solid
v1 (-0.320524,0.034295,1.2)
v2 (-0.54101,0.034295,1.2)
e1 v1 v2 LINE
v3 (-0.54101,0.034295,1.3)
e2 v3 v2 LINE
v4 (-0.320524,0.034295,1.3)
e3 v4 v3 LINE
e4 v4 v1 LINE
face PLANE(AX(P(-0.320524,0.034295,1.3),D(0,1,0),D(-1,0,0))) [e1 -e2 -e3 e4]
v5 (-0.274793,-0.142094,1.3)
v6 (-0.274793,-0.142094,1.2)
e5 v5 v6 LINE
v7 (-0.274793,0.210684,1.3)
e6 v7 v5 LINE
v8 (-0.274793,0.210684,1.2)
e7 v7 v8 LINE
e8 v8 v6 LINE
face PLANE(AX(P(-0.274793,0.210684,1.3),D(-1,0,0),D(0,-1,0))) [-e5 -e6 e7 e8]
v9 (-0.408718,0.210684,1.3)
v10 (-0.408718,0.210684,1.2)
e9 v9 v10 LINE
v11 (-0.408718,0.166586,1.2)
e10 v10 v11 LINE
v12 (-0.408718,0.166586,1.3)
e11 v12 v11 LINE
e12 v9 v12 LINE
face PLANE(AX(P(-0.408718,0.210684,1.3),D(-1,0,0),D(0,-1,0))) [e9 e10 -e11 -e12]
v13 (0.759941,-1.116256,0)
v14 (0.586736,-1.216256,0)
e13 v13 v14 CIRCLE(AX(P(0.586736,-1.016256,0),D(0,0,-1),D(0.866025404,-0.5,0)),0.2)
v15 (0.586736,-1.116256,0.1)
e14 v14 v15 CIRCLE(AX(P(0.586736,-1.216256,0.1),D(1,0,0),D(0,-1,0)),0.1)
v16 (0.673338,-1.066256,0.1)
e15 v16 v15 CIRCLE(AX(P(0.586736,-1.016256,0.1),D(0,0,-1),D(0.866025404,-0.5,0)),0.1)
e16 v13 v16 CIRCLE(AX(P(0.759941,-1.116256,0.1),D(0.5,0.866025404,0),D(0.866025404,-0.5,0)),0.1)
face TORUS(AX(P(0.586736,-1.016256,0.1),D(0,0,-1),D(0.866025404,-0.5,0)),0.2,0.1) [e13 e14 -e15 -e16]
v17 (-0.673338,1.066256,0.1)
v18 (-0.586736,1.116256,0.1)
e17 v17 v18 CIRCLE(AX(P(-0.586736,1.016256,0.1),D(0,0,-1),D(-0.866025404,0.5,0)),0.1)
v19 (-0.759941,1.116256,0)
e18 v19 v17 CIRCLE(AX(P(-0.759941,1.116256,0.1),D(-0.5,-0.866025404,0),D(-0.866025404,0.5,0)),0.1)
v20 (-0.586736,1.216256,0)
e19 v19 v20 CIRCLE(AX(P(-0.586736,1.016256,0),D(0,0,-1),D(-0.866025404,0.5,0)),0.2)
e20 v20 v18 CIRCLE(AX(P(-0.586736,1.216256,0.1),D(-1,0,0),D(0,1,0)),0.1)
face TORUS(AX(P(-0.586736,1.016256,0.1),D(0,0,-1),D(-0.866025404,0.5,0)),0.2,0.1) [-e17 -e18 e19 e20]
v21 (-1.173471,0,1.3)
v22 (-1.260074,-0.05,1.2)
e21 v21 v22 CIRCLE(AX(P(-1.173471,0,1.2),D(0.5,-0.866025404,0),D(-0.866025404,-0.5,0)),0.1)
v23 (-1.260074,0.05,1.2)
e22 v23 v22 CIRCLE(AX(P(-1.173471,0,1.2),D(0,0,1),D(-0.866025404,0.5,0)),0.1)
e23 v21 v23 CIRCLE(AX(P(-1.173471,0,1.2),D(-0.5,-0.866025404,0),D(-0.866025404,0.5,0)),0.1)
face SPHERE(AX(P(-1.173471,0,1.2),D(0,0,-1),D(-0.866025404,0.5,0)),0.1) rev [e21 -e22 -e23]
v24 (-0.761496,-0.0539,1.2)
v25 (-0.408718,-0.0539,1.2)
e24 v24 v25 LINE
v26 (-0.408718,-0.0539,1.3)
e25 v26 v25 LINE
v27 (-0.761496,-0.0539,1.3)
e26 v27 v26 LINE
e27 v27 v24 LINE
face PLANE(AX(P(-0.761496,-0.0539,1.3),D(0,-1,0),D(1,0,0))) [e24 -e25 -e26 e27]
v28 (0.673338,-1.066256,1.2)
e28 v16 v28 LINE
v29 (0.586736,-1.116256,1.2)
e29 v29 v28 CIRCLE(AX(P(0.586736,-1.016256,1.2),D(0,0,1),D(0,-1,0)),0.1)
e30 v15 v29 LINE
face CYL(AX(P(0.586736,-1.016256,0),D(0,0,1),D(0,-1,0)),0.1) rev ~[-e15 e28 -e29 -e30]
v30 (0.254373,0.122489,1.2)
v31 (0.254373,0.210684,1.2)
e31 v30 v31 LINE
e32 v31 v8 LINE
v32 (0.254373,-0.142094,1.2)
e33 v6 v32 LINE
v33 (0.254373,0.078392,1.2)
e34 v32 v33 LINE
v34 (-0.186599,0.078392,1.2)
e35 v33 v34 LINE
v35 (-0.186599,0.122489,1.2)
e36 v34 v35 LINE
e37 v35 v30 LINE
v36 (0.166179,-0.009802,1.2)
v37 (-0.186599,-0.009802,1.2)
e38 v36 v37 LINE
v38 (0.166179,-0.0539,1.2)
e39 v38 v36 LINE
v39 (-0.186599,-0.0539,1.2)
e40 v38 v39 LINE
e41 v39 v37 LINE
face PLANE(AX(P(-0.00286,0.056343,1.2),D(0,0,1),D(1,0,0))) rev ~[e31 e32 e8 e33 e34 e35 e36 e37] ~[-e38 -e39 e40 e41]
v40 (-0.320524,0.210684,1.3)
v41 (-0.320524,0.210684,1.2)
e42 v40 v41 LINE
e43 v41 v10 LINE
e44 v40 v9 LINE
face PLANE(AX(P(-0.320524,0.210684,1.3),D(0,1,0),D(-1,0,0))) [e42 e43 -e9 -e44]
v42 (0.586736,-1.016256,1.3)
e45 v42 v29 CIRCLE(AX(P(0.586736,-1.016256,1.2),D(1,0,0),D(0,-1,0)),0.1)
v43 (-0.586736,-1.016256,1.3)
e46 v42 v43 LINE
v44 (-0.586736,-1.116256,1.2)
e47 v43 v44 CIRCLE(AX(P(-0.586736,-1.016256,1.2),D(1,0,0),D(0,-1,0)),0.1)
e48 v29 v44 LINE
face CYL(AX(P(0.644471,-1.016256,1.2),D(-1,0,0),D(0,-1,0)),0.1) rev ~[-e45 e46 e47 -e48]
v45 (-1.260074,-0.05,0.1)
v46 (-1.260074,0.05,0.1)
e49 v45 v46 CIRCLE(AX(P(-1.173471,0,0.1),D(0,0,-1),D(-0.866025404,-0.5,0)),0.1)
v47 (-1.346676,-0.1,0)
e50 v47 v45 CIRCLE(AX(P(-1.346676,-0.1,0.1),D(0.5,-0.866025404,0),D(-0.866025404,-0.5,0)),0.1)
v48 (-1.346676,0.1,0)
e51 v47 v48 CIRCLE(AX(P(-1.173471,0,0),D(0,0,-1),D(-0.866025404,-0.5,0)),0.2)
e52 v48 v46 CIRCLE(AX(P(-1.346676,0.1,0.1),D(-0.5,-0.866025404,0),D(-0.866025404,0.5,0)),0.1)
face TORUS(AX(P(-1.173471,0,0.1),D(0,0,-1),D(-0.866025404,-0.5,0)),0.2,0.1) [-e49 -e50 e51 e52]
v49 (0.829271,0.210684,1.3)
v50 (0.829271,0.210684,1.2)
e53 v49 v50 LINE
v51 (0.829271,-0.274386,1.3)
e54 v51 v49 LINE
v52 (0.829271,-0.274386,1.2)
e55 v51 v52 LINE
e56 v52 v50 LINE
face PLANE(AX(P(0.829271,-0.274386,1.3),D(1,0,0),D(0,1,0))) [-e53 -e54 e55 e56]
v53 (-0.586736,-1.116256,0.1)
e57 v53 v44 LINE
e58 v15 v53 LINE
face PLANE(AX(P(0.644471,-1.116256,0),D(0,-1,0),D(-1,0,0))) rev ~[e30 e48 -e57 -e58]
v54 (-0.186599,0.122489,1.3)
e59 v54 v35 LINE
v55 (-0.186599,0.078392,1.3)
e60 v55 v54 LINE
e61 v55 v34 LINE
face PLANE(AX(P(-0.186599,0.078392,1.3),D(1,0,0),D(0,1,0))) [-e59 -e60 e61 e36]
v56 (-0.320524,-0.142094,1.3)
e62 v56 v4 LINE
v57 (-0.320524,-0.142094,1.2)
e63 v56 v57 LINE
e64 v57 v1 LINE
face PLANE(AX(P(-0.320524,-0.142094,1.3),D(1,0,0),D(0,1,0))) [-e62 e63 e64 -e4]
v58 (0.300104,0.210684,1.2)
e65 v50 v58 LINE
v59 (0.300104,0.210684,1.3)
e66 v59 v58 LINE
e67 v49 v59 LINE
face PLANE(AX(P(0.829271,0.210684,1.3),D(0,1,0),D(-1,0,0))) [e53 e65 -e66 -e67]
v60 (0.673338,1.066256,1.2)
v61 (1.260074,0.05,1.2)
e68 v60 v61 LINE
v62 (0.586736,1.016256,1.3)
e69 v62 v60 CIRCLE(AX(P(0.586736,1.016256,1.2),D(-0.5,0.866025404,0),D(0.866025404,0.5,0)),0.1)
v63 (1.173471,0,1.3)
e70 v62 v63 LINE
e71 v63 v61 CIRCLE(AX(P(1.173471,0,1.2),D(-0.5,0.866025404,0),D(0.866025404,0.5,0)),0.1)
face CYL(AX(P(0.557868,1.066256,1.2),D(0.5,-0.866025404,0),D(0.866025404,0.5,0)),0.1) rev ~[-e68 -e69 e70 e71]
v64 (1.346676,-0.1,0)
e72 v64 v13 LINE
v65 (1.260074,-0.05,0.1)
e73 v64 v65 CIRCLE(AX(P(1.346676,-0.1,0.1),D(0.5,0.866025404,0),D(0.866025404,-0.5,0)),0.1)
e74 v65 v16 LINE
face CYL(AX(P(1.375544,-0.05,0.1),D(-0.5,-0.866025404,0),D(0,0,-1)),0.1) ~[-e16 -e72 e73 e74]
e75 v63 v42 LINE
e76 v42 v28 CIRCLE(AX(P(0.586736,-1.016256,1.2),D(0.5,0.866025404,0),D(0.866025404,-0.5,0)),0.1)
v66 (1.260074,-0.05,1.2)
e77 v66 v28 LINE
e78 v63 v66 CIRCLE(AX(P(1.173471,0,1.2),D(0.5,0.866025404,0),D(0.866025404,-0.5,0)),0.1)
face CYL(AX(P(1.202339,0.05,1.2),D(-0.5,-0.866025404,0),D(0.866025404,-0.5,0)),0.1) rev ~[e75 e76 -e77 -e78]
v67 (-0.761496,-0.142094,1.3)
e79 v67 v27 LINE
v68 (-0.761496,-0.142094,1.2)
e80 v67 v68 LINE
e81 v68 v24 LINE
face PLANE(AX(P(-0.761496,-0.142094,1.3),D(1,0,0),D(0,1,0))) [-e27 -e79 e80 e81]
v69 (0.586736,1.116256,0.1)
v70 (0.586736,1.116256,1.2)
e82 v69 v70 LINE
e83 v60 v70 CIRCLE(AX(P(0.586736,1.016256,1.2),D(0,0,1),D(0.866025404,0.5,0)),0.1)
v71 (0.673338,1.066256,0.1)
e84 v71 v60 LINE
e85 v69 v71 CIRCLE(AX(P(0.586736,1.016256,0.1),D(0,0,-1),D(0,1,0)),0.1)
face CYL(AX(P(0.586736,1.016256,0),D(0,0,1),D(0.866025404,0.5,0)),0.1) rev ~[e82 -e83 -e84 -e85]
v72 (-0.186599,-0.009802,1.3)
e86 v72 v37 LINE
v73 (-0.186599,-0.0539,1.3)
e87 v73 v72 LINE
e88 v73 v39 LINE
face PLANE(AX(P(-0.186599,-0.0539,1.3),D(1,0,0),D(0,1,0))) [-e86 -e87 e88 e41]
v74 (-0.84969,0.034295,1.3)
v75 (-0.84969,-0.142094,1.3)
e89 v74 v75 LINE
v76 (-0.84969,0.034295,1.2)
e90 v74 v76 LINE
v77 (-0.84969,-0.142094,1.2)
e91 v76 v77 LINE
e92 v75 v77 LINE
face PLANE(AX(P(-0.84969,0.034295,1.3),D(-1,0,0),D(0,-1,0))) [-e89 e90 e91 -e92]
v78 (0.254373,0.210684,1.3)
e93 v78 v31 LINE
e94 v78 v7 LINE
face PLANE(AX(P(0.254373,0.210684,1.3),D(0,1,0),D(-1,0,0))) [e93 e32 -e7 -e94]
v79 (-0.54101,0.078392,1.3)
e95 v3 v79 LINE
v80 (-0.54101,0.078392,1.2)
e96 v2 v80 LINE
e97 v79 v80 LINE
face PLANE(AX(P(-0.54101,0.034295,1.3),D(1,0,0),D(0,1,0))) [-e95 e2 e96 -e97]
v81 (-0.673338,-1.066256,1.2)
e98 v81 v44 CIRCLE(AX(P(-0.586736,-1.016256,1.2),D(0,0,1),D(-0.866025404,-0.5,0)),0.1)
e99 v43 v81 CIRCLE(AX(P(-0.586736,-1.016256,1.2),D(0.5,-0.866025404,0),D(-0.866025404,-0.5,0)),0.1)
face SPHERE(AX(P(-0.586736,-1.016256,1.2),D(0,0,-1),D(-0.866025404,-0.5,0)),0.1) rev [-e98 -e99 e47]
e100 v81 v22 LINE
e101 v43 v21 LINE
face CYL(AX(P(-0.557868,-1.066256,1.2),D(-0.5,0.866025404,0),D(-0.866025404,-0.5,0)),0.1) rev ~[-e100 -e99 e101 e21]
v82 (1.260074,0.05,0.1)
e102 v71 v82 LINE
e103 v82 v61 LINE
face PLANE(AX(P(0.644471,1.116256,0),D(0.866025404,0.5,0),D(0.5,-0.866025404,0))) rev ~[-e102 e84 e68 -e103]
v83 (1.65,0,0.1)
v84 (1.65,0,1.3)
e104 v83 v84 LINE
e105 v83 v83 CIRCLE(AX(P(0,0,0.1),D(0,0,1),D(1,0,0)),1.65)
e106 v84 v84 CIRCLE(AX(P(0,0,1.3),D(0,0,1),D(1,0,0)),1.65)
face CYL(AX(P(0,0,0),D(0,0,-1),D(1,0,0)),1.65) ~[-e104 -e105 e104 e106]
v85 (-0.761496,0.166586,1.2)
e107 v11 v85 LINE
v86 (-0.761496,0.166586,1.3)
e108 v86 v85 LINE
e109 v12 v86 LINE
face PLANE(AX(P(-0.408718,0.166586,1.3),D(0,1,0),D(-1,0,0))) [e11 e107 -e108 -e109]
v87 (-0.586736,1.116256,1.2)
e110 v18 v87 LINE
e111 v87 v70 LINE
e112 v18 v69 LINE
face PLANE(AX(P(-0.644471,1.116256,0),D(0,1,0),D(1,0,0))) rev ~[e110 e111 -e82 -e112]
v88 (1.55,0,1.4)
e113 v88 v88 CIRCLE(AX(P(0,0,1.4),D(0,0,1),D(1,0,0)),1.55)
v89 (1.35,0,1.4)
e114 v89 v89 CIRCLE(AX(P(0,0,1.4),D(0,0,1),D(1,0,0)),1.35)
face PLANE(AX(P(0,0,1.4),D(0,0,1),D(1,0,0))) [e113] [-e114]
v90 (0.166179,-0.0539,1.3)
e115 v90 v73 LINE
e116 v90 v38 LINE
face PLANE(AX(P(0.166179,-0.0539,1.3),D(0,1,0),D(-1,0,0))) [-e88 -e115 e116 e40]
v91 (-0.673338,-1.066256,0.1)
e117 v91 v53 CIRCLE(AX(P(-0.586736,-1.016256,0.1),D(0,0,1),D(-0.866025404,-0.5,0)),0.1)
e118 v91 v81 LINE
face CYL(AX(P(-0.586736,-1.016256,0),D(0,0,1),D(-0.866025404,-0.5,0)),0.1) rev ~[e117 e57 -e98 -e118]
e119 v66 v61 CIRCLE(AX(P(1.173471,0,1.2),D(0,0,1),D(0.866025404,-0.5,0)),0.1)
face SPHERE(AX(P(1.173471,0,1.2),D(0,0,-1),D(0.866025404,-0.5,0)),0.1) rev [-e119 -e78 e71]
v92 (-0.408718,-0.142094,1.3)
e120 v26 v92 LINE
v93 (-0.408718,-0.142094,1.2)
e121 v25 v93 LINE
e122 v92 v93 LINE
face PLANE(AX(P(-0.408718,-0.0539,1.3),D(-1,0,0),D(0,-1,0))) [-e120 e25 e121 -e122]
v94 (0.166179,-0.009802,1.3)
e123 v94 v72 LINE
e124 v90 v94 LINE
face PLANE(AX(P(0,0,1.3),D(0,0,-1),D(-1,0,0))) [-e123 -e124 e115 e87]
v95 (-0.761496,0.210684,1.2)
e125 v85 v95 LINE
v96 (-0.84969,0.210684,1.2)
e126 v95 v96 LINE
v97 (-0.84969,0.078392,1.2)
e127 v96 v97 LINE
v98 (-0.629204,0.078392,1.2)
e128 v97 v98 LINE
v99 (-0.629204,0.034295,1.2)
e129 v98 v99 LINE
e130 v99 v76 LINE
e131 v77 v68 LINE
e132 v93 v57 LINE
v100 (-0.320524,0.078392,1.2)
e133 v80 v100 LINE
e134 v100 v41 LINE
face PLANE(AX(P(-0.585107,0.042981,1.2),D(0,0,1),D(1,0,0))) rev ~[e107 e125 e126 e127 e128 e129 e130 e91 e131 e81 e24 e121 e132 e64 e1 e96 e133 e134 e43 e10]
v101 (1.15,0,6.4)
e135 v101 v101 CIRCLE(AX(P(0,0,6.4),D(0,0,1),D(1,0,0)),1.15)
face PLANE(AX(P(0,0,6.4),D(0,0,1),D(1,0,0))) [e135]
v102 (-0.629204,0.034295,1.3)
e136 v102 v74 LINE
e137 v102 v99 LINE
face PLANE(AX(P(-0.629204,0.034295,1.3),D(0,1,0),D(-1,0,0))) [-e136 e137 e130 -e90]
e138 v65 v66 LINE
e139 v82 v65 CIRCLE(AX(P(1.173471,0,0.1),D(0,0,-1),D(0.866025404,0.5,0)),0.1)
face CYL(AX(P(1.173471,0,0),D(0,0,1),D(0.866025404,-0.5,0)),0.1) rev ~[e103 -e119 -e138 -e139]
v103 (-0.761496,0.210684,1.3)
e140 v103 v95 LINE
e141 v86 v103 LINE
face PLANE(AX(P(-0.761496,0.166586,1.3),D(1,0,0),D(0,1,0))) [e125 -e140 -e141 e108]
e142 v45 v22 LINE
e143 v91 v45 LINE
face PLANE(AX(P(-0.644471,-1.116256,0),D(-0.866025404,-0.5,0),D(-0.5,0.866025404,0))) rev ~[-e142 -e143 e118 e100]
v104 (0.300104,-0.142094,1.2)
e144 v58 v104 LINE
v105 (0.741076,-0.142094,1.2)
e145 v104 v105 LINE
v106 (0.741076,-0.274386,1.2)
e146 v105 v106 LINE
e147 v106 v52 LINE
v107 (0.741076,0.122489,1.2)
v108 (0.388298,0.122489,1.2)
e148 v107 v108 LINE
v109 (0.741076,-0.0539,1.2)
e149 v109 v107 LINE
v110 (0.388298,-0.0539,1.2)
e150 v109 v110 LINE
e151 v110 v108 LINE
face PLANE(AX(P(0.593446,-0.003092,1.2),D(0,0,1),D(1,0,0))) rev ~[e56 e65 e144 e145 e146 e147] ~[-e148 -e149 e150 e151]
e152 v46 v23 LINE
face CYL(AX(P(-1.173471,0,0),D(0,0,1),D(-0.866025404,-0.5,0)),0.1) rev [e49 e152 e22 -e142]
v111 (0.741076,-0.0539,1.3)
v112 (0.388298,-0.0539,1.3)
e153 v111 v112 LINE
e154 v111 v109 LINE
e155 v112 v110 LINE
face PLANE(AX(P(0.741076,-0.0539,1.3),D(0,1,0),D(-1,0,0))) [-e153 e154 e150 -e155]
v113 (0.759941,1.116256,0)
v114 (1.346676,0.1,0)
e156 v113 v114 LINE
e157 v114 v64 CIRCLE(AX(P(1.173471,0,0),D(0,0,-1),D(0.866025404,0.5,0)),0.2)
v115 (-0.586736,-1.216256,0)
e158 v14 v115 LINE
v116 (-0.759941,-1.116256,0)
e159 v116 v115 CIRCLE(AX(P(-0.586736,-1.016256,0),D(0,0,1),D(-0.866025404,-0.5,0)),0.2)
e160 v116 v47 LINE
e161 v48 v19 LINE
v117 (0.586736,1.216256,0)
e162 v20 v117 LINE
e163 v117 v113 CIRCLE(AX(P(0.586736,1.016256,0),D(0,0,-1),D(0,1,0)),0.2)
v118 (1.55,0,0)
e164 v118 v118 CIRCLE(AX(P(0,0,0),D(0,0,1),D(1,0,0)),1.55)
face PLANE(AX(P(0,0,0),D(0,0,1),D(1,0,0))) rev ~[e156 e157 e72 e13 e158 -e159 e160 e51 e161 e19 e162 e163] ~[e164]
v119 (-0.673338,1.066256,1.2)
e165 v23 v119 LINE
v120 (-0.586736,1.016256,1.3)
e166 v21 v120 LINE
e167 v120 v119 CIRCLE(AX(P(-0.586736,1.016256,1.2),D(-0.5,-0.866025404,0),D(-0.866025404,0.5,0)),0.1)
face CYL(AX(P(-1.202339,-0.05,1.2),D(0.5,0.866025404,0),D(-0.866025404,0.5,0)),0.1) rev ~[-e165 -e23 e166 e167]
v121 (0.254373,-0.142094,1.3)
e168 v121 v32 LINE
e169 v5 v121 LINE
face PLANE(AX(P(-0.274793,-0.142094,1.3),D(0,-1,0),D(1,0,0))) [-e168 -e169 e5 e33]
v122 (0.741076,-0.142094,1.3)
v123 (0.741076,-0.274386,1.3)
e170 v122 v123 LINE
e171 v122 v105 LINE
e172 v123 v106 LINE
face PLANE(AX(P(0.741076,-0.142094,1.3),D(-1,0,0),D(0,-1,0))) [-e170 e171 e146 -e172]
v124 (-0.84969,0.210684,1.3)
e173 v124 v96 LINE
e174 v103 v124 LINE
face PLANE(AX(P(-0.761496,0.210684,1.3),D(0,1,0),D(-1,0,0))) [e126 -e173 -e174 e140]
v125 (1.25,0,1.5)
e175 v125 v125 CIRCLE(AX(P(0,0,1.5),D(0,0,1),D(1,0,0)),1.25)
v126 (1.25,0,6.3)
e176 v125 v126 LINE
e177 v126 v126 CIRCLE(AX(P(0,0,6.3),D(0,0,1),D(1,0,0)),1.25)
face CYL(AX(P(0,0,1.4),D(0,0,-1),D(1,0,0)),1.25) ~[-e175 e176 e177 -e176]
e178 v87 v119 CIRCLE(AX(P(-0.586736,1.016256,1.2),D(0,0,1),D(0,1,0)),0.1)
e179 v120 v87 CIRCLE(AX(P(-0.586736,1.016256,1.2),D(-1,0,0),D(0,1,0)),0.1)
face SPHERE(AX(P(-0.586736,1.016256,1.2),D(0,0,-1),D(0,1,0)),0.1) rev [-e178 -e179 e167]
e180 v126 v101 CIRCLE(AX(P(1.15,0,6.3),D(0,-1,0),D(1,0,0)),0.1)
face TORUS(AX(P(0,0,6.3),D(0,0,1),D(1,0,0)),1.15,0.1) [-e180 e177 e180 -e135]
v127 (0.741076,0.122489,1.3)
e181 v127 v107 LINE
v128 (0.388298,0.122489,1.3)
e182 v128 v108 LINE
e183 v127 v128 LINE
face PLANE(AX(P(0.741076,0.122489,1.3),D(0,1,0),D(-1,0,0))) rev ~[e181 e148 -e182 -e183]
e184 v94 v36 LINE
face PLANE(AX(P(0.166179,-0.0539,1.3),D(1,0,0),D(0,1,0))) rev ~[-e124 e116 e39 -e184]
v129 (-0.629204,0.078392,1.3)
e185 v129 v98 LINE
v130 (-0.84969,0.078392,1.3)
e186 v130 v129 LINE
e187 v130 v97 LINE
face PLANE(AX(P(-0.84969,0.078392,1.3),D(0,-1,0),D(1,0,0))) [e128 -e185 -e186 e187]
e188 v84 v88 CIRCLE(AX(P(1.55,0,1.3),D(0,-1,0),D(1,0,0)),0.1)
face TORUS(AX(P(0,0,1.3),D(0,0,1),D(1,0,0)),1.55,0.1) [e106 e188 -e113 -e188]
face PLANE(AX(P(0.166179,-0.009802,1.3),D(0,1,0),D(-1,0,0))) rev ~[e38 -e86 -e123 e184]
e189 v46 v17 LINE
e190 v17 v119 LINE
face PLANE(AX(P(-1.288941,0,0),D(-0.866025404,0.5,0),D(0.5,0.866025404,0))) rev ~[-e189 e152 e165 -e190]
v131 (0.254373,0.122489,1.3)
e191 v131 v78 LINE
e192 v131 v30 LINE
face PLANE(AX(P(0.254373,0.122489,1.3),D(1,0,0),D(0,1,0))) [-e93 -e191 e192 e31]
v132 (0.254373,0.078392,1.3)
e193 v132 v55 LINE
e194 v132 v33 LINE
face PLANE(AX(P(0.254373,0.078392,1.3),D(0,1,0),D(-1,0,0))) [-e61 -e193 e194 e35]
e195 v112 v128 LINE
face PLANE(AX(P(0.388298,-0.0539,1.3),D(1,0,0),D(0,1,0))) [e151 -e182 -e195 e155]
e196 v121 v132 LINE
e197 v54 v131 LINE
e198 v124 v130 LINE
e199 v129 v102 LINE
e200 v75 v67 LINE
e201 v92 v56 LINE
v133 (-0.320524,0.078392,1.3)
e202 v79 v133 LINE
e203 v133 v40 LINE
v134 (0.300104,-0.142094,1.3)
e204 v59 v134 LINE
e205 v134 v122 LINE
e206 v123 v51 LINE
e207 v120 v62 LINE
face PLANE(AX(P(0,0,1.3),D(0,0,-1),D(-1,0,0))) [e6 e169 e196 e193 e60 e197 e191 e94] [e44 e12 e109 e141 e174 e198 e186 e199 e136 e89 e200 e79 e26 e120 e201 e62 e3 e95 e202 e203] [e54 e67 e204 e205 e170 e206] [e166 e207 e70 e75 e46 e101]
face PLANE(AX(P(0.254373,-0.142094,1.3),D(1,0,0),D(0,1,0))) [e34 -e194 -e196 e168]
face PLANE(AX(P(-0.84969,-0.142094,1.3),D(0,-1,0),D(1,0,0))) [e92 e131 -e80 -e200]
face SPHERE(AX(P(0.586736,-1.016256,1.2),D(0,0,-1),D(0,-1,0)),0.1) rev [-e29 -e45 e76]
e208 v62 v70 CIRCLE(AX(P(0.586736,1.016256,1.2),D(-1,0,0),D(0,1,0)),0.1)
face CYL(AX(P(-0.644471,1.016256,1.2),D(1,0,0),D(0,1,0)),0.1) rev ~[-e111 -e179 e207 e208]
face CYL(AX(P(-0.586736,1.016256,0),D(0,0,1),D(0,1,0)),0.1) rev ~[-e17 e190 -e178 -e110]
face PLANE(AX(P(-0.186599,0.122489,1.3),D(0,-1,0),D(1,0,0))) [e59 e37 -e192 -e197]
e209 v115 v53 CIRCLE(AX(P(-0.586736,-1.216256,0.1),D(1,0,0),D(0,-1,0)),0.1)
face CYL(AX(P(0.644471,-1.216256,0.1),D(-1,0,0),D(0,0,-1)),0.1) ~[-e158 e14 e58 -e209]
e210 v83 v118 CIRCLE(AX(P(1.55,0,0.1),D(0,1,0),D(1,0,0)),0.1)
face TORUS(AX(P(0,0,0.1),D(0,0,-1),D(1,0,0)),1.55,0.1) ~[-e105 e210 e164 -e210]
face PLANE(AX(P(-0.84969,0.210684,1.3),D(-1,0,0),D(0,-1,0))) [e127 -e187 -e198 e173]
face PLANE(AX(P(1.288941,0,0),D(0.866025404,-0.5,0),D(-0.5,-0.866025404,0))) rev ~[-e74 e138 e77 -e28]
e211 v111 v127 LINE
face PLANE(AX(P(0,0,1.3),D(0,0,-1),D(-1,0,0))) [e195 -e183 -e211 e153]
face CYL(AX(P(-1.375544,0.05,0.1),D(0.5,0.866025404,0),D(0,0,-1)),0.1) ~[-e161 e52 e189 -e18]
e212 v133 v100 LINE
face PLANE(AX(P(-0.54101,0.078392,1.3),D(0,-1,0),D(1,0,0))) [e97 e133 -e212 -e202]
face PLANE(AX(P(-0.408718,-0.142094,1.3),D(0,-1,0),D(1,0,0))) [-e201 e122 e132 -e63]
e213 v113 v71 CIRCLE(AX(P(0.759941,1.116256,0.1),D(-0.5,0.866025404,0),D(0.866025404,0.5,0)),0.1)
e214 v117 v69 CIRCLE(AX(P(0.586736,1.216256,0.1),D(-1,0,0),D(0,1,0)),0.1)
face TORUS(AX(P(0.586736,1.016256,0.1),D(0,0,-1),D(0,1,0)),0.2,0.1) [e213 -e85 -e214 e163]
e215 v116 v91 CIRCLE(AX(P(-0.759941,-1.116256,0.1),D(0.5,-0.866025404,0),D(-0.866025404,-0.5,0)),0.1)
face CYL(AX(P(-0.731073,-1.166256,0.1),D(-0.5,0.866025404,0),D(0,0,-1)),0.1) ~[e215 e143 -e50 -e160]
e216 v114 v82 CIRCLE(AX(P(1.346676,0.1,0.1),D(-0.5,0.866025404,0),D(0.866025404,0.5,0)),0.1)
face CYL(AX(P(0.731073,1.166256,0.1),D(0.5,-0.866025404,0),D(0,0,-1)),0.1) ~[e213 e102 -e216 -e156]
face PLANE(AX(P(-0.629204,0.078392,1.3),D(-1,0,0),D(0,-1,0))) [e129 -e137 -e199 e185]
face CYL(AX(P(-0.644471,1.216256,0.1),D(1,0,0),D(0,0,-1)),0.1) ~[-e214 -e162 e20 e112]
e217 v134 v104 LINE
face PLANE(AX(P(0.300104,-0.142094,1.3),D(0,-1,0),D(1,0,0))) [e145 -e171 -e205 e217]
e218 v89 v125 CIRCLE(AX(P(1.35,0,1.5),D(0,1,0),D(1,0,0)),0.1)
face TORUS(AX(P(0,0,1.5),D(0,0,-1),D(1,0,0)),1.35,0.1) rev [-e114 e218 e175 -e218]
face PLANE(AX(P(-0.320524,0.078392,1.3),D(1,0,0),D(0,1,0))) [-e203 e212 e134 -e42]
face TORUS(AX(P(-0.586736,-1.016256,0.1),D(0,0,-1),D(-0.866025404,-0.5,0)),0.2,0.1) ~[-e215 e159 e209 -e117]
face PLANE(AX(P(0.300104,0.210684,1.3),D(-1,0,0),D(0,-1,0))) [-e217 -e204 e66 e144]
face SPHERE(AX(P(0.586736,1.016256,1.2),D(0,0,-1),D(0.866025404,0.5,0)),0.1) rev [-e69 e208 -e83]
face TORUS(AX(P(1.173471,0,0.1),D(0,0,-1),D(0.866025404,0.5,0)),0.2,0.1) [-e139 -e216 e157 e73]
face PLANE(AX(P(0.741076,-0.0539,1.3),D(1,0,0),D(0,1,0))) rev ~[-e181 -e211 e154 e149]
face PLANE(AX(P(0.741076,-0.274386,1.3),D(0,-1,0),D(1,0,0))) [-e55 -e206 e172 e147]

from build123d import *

# Parameters (mm, degrees)
SKETCH1_R           = 1.65
BOSS_EXTRUDE1_DEPTH = 1.4
SKETCH2_R           = 1.25
BOSS_EXTRUDE2_DEPTH = 5
CUT_EXTRUDE1_DEPTH  = 1.3
FILLET1_R           = 0.1
SKETCH4_W           = 0.352777778
SKETCH4_H           = 0.176388889
SKETCH4_W_2         = 0.352777777
SKETCH4_H_2         = 0.044097222
BOSS_EXTRUDE3_DEPTH = 0.1


with BuildPart() as part:
    # Sketch1 → Boss-Extrude1 (new body)
    with BuildSketch(Plane.XY):
        Circle(SKETCH1_R)
    extrude(amount=BOSS_EXTRUDE1_DEPTH)

    # Sketch2 → Boss-Extrude2 (add)
    with BuildSketch(Plane.XY.offset(1.4)):
        Circle(SKETCH2_R)
    extrude(amount=BOSS_EXTRUDE2_DEPTH)

    # Sketch3 → Cut-Extrude1 (cut)
    with BuildSketch(Plane(origin=(0, 0, 0), x_dir=(-1, 0, 0), z_dir=(0, 0, -1))):
        Polygon((1.288941176, 0), (0.644470588, 1.116255803), (-0.644470588, 1.116255803), (-1.288941176, 0), (-0.644470588, -1.116255803), (0.644470588, -1.116255803), align=None)
    extrude(amount=-CUT_EXTRUDE1_DEPTH, mode=Mode.SUBTRACT)

    # Fillet1
    fillet1_edges = [part.edges().sort_by_distance(p)[0] for p in [
        (-0.966705882, -0.558127901, 1.3),
        (-1.288941176, 0, 0.65),
        (0, -1.116255803, 1.3),
        (-0.644470588, -1.116255803, 0.65),
        (0.966705882, -0.558127901, 1.3),
        (0.644470588, -1.116255803, 0.65),
        (0.966705882, 0.558127901, 1.3),
        (1.288941176, 0, 0.65),
        (0, 1.116255803, 1.3),
        (0.644470588, 1.116255803, 0.65),
        (-0.966705882, 0.558127901, 1.3),
        (-0.644470588, 1.116255803, 0.65),
        (-0.966705882, -0.558127901, 0),
        (-0.966705882, 0.558127901, 0),
        (0, 1.116255803, 0),
        (0.966705882, 0.558127901, 0),
        (0.966705882, -0.558127901, 0),
        (0, -1.116255803, 0),
        (-1.65, 0, 0),
        (-1.65, 0, 1.4),
        (-1.25, 0, 1.4),
        (-1.25, 0, 6.4),
    ]]
    fillet(fillet1_edges, radius=FILLET1_R)

    # Sketch4 → Boss-Extrude3 (add)
    # profile 1 of 3: a face of its own
    with BuildSketch(Plane(origin=(0, 0, 1.3), x_dir=(-1, 0, 0), z_dir=(0, 0, -1))):
        Polygon((-0.829270588, -0.274385784), (-0.829270588, 0.21068366), (-0.300103922, 0.21068366), (-0.300103922, -0.142094118), (-0.741076144, -0.142094118), (-0.741076144, -0.274385784), align=None)
        with Locations((-0.564687255, 0.034294772)):
            Rectangle(SKETCH4_W, SKETCH4_H, mode=Mode.SUBTRACT)
    # profile 2 of 3: a face of its own
    with BuildSketch(Plane(origin=(0, 0, 1.3), x_dir=(-1, 0, 0), z_dir=(0, 0, -1))):
        Polygon((-0.254373469, -0.142094118), (-0.254373469, 0.078391993), (0.186598753, 0.078391993), (0.186598753, 0.122489216), (-0.254373469, 0.122489216), (-0.254373469, 0.21068366), (0.274793198, 0.21068366), (0.274793198, -0.142094118), align=None)
        with Locations((0.010209864, -0.031851062)):
            Rectangle(SKETCH4_W_2, SKETCH4_H_2, mode=Mode.SUBTRACT)
    # profile 3 of 3: a face of its own
    with BuildSketch(Plane(origin=(0, 0, 1.3), x_dir=(-1, 0, 0), z_dir=(0, 0, -1))):
        Polygon((0.32052365, -0.142094118), (0.32052365, 0.034294771), (0.541009762, 0.034294771), (0.541009762, 0.078391993), (0.32052365, 0.078391993), (0.32052365, 0.21068366), (0.408718095, 0.21068366), (0.408718095, 0.166586438), (0.761495873, 0.166586438), (0.761495873, 0.21068366), (0.849690317, 0.21068366), (0.849690317, 0.078391993), (0.629204206, 0.078391993), (0.629204206, 0.034294771), (0.849690317, 0.034294771), (0.849690317, -0.142094118), (0.761495873, -0.142094118), (0.761495873, -0.053899673), (0.408718095, -0.053899673), (0.408718095, -0.142094118), align=None)
    extrude(amount=BOSS_EXTRUDE3_DEPTH)


solid = part.part
